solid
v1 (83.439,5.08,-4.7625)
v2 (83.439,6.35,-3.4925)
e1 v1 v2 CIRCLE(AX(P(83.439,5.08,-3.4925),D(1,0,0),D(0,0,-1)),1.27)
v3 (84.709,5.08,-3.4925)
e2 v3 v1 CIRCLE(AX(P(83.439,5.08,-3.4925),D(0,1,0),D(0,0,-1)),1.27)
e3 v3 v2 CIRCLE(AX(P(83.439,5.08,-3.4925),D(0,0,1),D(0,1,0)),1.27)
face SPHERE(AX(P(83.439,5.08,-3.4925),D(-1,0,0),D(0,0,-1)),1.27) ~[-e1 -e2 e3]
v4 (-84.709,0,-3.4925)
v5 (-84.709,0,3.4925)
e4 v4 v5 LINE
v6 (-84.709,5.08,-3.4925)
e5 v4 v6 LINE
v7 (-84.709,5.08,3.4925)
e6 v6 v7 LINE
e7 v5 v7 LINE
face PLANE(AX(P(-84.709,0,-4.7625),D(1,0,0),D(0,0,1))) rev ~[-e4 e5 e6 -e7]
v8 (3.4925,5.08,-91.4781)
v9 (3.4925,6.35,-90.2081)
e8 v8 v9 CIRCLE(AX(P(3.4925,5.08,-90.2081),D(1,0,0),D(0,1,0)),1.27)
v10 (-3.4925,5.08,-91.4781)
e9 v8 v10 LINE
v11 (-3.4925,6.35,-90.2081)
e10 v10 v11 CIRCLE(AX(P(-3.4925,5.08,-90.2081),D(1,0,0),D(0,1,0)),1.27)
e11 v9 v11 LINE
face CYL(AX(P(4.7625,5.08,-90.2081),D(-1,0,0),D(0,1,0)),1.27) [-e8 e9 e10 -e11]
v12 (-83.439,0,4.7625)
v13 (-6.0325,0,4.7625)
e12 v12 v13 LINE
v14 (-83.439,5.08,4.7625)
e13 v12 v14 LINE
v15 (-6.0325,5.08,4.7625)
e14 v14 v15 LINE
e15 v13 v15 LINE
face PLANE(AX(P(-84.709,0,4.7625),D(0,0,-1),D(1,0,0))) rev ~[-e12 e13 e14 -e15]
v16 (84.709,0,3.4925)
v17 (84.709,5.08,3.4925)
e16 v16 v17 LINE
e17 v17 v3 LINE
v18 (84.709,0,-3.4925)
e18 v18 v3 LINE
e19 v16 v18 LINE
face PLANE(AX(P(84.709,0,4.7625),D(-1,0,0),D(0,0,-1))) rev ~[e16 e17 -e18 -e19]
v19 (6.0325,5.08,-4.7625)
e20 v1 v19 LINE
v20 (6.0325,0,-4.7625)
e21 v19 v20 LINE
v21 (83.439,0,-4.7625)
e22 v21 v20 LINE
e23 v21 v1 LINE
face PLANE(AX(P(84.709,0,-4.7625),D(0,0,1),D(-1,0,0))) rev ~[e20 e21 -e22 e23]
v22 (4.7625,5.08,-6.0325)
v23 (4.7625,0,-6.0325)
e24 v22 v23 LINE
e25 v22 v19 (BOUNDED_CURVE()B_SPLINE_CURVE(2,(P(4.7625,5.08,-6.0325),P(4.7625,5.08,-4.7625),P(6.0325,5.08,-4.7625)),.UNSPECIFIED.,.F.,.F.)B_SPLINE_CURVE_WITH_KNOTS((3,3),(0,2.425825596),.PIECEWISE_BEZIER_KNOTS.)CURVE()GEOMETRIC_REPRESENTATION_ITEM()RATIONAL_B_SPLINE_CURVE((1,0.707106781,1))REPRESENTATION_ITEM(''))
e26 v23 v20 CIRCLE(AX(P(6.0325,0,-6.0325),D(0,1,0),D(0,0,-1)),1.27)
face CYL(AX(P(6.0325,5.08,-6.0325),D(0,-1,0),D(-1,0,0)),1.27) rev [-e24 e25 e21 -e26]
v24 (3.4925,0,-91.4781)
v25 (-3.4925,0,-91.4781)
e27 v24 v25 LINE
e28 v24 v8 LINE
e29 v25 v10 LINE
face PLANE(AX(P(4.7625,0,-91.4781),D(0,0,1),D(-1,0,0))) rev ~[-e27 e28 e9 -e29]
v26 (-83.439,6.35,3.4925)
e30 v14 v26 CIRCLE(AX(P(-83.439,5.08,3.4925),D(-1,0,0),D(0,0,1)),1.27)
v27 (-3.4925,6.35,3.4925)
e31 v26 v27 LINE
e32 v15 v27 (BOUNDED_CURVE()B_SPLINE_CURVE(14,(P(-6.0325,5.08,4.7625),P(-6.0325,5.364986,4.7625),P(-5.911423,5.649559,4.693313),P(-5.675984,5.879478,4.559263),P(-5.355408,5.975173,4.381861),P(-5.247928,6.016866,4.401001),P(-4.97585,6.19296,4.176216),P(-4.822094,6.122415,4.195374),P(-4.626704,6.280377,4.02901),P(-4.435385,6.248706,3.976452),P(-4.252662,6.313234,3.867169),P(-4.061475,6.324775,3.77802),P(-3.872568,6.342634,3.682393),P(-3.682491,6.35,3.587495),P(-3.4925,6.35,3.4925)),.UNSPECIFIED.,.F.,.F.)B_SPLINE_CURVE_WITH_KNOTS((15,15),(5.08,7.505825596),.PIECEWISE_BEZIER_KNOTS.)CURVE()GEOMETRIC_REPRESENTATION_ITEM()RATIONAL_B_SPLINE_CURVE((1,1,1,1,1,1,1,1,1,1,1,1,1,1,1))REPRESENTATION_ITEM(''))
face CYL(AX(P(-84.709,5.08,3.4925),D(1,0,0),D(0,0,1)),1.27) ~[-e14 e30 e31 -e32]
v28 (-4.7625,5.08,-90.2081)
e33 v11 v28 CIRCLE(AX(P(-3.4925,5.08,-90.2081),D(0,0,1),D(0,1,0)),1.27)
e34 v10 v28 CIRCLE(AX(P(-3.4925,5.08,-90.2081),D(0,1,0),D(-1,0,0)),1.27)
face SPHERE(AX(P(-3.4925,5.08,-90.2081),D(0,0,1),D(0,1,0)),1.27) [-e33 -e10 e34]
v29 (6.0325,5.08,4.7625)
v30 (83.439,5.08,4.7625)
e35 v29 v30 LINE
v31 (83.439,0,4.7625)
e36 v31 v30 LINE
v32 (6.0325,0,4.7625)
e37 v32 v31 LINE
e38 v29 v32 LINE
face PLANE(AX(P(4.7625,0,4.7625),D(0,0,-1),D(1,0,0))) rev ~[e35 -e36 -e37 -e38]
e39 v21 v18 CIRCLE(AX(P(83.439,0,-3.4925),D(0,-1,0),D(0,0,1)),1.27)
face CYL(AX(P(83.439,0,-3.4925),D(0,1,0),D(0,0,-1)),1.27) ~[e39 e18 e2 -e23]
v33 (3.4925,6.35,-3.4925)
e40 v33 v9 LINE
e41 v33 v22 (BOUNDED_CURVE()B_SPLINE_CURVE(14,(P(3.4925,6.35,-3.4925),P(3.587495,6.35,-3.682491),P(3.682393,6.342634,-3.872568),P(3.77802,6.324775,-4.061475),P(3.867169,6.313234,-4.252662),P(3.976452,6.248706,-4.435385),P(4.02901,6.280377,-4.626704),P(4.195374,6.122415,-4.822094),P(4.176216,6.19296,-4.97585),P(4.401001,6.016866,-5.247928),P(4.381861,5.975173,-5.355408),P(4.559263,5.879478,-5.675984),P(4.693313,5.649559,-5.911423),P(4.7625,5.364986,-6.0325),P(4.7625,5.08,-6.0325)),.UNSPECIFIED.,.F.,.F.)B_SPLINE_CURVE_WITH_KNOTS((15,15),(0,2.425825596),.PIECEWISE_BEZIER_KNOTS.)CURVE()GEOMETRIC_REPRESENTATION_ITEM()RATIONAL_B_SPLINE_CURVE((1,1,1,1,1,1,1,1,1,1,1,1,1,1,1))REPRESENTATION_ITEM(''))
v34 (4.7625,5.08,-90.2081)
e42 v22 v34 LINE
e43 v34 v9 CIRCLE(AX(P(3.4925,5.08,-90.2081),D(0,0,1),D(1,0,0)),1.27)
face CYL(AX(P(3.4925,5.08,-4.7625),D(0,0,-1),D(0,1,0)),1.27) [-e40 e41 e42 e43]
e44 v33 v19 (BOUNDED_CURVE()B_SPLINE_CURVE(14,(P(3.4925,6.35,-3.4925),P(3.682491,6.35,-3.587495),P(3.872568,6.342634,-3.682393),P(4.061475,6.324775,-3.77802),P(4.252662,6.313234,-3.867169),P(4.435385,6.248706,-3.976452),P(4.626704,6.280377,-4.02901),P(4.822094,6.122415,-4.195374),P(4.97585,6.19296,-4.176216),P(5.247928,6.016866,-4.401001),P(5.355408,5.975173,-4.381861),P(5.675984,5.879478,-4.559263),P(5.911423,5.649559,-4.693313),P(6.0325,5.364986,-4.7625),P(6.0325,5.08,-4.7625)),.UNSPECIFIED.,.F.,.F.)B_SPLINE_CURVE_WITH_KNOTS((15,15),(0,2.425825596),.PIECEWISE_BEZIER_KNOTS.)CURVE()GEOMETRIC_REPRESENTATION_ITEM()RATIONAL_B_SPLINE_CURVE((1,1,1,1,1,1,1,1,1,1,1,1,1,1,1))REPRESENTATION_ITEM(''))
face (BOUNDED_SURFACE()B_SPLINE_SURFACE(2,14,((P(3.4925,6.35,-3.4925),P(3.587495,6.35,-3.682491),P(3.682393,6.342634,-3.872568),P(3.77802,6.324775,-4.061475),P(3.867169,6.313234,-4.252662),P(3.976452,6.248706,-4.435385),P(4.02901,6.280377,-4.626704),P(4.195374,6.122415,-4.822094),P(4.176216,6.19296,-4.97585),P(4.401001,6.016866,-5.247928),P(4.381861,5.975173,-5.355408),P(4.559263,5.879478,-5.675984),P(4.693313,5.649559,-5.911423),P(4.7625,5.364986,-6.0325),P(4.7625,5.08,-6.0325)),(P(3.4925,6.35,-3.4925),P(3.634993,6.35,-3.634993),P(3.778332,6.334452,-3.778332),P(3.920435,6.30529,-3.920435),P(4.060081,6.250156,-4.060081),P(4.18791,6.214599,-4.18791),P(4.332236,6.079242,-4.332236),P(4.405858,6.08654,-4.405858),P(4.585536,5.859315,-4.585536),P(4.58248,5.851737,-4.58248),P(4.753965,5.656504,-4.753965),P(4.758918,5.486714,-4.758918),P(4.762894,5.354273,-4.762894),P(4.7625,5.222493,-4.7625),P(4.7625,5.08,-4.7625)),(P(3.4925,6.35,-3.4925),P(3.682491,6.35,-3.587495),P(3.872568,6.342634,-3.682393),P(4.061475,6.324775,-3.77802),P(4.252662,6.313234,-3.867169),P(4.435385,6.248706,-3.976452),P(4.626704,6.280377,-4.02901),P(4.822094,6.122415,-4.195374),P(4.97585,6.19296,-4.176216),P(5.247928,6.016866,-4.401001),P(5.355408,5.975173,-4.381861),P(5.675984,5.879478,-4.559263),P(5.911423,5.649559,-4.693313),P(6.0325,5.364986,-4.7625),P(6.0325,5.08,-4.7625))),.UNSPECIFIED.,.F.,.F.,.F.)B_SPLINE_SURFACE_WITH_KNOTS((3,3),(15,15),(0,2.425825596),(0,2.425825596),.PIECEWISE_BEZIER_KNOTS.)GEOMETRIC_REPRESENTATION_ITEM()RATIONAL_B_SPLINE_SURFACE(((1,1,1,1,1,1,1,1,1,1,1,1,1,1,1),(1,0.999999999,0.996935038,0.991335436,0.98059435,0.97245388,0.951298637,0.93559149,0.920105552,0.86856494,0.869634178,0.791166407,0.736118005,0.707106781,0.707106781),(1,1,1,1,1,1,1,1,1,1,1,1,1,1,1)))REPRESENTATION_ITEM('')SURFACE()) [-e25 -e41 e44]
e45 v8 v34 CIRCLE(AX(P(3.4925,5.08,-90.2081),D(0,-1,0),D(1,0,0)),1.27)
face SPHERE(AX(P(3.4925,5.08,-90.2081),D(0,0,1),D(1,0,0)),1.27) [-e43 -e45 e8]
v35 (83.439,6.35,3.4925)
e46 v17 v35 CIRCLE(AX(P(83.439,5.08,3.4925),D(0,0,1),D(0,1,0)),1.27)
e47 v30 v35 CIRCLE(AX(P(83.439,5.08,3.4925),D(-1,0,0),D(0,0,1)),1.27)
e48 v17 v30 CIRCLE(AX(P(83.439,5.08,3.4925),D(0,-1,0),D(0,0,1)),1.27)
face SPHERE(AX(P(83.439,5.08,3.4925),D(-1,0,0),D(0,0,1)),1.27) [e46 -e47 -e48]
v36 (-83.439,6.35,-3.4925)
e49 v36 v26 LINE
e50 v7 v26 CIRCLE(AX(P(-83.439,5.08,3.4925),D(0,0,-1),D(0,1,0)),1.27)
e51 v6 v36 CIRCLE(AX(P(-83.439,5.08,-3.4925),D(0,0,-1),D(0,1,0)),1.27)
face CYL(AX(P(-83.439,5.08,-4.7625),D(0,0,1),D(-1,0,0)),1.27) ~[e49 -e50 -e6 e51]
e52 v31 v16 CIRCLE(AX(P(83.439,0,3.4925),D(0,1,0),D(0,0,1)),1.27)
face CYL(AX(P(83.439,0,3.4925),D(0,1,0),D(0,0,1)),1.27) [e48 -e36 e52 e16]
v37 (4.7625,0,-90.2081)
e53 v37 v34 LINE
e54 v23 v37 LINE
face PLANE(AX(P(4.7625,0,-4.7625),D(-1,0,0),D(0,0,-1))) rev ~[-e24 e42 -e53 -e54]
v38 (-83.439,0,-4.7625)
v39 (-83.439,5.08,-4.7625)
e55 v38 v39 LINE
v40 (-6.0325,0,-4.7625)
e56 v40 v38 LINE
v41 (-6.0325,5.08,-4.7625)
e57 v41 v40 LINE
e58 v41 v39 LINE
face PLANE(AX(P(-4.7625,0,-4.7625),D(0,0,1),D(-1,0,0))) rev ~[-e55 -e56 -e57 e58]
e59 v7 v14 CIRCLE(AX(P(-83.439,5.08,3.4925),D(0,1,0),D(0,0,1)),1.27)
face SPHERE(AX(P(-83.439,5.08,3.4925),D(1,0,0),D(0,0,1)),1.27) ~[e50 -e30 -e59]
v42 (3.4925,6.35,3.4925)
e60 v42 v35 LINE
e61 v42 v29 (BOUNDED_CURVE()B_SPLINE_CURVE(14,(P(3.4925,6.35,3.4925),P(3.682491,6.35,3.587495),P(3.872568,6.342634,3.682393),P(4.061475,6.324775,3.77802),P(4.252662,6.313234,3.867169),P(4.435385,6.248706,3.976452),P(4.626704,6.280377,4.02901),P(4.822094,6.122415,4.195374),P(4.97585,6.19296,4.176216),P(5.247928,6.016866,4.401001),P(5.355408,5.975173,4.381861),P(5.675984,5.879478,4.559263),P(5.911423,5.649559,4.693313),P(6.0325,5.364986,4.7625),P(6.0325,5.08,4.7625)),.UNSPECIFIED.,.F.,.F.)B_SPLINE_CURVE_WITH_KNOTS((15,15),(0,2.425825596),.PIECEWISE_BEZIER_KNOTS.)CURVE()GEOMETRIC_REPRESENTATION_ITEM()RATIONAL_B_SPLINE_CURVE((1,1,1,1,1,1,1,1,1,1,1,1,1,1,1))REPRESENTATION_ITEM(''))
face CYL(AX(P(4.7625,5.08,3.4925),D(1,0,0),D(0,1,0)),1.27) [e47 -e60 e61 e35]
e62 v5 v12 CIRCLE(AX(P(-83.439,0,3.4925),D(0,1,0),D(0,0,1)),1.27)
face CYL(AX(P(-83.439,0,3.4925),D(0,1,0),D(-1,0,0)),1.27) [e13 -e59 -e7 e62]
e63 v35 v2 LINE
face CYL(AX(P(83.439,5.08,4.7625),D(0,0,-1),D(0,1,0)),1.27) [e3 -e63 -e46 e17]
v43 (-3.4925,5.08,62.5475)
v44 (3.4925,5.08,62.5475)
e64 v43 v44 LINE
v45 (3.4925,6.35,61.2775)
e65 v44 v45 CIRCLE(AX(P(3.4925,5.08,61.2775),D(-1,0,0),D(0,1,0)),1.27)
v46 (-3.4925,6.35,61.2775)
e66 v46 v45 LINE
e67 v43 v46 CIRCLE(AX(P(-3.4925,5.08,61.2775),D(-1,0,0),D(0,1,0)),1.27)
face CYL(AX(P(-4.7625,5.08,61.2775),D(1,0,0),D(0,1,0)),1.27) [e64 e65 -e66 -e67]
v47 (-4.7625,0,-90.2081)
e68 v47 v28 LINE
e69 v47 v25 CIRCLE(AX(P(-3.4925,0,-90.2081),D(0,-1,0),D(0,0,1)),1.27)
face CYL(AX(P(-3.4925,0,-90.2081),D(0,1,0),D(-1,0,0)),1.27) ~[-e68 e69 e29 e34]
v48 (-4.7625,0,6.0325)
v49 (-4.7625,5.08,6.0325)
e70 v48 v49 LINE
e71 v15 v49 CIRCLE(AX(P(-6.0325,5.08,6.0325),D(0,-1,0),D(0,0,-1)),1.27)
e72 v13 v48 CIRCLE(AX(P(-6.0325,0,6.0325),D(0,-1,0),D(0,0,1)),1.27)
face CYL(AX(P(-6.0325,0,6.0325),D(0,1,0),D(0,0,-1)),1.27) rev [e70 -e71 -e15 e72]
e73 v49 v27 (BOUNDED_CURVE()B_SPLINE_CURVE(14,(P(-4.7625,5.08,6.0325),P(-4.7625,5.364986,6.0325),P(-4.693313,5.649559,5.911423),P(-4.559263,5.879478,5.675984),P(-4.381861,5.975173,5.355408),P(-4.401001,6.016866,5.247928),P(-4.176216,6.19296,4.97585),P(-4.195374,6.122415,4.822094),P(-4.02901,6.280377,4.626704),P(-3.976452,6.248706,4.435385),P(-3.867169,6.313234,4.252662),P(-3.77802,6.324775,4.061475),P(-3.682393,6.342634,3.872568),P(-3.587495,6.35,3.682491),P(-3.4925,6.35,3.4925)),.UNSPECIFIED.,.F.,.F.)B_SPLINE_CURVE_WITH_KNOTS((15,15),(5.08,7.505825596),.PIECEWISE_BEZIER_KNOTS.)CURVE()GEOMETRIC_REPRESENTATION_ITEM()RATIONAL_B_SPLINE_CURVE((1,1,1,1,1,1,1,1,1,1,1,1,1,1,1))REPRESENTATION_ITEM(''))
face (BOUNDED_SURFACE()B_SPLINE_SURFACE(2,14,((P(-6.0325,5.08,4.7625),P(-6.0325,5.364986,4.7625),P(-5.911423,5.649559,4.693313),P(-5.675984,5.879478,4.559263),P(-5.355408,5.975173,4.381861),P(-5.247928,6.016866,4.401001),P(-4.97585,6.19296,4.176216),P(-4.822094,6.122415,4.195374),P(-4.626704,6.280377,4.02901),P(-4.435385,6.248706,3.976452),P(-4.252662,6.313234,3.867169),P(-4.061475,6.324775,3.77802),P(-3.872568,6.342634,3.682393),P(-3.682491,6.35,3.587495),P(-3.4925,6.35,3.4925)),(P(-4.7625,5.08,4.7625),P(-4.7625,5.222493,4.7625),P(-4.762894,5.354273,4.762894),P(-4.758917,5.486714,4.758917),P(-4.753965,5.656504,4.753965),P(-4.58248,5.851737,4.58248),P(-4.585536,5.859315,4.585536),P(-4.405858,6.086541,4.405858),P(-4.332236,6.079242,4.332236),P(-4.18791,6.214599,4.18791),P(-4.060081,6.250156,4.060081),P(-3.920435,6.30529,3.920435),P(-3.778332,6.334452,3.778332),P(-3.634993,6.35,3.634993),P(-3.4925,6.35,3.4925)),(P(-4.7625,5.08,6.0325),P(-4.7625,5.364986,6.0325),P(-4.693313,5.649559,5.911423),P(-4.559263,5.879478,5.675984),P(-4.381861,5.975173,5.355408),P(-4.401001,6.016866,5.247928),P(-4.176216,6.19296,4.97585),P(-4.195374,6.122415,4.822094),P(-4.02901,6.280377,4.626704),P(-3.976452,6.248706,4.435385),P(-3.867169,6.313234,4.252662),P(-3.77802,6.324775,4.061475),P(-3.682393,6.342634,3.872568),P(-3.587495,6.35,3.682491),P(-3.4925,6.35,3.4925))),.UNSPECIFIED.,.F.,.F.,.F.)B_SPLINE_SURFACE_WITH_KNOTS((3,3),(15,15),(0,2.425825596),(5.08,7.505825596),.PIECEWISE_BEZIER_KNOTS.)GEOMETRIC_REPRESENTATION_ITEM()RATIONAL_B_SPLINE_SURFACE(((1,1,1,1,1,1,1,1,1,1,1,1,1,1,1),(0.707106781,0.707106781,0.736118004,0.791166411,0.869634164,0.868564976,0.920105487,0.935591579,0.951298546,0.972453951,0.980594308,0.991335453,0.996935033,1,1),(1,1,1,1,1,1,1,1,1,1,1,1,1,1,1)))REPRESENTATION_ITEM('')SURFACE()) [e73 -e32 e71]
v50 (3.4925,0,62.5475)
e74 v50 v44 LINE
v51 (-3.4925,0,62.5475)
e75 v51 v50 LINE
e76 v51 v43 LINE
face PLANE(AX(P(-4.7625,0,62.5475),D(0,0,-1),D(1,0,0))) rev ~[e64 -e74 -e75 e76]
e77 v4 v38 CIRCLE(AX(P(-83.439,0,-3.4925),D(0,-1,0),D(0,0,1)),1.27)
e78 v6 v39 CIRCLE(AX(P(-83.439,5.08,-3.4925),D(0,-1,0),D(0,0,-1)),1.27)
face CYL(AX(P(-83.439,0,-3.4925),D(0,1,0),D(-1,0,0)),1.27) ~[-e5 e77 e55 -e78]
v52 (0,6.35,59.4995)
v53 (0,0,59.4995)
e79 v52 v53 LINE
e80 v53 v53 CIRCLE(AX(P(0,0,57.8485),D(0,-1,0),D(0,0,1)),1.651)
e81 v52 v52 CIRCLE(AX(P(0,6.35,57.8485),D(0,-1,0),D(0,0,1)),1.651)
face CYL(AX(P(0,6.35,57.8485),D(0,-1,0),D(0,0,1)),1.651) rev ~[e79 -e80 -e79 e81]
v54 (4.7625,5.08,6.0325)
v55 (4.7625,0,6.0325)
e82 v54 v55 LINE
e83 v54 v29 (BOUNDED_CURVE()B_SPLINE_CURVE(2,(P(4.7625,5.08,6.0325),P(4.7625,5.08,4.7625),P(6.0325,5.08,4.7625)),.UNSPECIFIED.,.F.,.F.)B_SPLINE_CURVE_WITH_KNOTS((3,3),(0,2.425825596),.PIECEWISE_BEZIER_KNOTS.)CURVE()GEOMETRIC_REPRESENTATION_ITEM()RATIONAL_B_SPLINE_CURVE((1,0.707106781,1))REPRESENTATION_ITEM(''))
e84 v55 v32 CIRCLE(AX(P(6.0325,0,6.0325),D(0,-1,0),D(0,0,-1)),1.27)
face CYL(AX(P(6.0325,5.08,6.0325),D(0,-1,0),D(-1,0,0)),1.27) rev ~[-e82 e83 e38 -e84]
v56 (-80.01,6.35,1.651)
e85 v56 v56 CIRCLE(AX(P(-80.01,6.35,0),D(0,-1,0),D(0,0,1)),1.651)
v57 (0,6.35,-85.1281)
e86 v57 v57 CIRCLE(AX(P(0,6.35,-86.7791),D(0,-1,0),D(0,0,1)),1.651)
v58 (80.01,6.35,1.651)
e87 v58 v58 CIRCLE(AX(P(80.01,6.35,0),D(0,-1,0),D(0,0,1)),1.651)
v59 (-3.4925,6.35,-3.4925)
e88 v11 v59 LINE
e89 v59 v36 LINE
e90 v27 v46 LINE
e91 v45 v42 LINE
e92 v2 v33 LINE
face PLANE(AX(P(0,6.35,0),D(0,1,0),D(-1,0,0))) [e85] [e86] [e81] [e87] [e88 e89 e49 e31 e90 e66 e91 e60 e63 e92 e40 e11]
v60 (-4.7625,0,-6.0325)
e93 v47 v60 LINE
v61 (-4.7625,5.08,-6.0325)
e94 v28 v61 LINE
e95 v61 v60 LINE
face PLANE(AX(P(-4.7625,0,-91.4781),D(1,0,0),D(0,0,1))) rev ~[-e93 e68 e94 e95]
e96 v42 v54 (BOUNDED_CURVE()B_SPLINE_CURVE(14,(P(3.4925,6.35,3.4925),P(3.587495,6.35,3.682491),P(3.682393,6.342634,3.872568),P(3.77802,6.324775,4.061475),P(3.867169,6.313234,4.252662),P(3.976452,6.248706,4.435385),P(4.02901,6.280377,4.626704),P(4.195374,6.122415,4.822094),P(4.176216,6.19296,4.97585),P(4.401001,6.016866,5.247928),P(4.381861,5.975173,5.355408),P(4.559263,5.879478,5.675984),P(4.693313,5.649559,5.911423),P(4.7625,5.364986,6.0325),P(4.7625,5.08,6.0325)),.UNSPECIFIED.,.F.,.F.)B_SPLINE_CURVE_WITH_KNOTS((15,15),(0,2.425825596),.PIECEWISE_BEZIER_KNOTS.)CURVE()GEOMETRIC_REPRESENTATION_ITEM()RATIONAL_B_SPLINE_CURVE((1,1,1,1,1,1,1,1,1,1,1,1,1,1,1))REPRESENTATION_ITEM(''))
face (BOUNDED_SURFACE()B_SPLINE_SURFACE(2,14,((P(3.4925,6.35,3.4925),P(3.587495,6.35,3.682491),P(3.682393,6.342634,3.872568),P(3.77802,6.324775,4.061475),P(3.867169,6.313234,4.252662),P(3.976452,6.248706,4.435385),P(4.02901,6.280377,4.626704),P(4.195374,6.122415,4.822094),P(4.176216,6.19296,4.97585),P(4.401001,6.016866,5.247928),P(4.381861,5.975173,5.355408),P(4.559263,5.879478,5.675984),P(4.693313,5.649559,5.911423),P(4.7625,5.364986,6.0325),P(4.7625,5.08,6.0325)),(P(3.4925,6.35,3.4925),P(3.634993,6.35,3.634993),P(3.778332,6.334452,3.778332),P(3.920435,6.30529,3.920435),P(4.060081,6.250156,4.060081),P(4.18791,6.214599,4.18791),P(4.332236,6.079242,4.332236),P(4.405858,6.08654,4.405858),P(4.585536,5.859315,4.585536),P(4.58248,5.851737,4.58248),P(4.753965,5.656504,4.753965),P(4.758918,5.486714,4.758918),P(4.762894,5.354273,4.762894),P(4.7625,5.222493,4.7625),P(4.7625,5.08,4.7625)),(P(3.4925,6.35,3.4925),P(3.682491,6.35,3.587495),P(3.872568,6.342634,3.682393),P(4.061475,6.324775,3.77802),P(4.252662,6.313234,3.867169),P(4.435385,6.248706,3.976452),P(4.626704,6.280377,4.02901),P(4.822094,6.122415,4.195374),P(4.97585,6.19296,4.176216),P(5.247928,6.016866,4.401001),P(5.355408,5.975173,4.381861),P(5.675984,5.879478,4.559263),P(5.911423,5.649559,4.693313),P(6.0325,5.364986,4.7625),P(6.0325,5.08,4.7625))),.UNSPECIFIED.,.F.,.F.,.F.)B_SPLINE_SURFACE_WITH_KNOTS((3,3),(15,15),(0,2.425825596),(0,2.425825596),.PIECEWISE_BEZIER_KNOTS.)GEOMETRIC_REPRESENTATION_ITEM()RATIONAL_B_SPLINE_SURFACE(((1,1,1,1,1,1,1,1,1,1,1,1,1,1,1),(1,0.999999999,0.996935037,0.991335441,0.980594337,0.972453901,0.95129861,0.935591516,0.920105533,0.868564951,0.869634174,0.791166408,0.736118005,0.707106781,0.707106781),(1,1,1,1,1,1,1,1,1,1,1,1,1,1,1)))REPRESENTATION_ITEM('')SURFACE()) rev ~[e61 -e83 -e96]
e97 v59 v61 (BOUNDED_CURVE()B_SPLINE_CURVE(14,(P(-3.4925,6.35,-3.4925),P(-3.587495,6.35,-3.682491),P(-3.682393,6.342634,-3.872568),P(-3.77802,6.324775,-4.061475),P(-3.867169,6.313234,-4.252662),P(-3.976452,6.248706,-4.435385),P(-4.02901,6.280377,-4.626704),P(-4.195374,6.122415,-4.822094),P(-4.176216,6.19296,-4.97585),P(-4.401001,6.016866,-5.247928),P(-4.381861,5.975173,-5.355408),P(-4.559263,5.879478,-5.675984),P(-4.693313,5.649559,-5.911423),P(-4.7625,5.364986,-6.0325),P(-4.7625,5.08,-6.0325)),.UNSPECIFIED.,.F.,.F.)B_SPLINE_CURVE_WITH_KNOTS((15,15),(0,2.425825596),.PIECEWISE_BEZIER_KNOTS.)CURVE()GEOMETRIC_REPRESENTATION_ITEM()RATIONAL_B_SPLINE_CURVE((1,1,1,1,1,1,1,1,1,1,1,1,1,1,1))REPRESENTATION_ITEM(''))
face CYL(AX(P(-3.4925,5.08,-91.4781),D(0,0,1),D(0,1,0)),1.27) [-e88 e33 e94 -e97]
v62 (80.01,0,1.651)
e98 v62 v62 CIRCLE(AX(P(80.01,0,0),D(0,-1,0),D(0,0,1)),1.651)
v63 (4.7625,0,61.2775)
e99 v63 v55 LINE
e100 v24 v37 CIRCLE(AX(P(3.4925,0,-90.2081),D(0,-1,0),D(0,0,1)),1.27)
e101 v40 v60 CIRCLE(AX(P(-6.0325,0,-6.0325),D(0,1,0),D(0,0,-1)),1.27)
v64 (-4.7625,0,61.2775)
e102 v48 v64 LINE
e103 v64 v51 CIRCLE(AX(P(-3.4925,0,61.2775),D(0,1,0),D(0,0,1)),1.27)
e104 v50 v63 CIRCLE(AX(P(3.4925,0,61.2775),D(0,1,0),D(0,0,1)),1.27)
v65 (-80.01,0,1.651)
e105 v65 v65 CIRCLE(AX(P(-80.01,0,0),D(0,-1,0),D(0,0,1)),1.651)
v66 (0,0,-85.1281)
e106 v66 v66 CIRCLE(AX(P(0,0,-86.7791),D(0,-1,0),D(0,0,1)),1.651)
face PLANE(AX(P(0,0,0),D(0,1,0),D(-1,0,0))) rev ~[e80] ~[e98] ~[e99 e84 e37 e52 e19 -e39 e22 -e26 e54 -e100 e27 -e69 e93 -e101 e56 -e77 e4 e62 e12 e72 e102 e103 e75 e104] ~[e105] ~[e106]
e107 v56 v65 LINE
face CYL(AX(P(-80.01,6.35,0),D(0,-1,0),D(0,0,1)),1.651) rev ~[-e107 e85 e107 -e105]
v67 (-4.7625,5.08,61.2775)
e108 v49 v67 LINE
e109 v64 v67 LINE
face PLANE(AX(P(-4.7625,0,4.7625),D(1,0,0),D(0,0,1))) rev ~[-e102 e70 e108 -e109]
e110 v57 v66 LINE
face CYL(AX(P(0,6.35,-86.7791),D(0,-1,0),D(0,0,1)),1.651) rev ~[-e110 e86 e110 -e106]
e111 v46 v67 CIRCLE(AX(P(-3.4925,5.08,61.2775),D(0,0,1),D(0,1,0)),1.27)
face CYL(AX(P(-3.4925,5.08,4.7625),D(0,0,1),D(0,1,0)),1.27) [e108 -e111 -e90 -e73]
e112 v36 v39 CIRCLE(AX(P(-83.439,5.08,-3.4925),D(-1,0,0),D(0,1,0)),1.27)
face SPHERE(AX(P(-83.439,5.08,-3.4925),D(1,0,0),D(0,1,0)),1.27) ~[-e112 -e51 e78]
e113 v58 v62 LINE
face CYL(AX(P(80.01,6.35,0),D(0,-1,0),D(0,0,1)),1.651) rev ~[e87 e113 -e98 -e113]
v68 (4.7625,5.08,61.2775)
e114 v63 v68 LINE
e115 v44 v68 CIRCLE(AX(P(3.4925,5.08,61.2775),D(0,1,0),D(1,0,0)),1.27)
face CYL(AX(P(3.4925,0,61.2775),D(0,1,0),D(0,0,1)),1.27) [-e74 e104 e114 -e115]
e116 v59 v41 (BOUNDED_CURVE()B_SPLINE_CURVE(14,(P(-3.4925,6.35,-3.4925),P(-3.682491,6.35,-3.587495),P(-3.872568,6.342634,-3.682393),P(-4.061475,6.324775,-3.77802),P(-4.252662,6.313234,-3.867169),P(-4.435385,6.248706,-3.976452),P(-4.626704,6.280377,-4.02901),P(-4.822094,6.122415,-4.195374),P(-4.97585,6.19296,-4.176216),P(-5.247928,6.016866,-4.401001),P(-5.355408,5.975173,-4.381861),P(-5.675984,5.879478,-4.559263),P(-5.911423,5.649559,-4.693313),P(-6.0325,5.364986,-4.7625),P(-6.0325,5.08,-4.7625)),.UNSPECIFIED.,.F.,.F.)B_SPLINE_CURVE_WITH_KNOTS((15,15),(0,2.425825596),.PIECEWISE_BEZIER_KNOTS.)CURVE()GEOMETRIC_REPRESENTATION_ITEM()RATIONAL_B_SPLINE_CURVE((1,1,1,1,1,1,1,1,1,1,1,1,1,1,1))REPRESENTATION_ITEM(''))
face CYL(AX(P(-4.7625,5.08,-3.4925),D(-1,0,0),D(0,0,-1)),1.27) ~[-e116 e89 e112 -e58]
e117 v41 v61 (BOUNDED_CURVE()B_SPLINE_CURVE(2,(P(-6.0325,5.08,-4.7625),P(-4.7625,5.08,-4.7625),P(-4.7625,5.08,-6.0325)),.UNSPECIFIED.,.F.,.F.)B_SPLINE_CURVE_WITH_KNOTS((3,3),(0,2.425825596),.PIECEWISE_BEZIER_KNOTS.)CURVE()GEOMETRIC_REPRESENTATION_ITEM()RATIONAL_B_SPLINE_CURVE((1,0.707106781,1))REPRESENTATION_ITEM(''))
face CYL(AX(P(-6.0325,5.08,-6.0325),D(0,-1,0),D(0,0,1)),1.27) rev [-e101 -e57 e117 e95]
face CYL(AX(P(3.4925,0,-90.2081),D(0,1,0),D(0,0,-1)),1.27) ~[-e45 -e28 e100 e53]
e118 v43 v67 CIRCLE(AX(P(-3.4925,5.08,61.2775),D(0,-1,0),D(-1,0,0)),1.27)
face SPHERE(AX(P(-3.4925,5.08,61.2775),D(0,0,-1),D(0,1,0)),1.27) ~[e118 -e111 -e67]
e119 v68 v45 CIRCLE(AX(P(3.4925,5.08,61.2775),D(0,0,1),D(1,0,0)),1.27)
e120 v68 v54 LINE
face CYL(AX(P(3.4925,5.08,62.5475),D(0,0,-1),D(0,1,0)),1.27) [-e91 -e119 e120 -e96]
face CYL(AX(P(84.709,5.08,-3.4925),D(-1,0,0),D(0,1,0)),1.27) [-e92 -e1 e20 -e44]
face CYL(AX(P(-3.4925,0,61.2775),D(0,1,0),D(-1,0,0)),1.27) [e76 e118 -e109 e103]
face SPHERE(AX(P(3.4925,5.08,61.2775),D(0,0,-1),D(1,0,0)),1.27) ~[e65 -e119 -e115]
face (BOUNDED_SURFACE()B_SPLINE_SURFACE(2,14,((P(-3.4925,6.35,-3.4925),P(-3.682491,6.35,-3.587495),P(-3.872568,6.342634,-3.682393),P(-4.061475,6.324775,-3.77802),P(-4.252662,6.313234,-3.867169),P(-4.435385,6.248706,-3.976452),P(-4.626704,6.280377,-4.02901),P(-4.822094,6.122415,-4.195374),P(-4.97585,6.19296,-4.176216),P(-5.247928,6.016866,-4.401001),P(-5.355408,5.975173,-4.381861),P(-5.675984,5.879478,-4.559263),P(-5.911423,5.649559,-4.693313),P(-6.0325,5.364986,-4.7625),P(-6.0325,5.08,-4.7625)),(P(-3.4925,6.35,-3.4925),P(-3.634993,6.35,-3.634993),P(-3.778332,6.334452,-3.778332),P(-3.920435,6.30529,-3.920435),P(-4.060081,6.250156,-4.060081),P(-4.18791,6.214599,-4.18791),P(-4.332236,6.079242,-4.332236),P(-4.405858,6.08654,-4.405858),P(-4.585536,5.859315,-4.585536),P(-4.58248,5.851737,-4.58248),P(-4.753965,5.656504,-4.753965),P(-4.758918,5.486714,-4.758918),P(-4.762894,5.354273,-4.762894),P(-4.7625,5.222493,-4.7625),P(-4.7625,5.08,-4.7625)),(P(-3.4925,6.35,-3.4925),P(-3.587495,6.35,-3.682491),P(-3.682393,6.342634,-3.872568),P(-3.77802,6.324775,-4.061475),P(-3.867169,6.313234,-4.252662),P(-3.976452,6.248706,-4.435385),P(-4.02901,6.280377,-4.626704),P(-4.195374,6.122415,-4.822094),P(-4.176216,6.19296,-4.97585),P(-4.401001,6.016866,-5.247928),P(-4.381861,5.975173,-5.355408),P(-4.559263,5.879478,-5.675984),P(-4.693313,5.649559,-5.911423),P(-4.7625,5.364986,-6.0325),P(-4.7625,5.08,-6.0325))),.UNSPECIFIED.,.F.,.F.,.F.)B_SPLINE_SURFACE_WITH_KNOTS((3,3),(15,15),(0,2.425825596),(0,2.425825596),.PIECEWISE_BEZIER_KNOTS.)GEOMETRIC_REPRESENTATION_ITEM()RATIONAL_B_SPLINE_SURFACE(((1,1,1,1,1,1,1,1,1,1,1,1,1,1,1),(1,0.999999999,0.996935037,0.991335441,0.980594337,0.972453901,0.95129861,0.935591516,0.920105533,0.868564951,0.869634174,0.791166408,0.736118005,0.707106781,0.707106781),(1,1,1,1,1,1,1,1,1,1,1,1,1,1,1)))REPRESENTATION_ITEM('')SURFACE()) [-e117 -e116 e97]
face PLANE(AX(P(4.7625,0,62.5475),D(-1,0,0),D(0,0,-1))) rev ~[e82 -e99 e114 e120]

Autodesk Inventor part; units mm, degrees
ref_plane "YZ Plane" through (0, 0, 0) normal (1, 0, 0) x (0, 1, 0)
ref_plane "XZ Plane" through (0, 0, 0) normal (0, 1, 0) x (-1, 0, 0)
ref_plane "XY Plane" through (0, 0, 0) normal (0, 0, 1) x (1, 0, 0)
sketch "Sketch1" plane through (0, 0, 0) normal (0, 1, 0) x (-1, 0, 0)
  line L0 (84.709, 4.7625) -> (-84.709, 4.7625)
  line L1 (-84.709, 4.7625) -> (-84.709, -4.7625)
  line L2 (-84.709, -4.7625) -> (84.709, -4.7625)
  line L3 (84.709, -4.7625) -> (84.709, 4.7625)
  line L4 (4.7625, 62.5475) -> (-4.7625, 62.5475)
  line L5 (-4.7625, 62.5475) -> (-4.7625, -91.4781)
  line L6 (-4.7625, -91.4781) -> (4.7625, -91.4781)
  line L7 (4.7625, -91.4781) -> (4.7625, 62.5475)
  point P0 (0, 0)
  point P1 (0, -4.7625)
  point P2 (84.709, 0)
  point P3 (4.7625, -14.4653)
  point P4 (0, 62.5475)
  dimension "d0" = 9.525
  dimension "d1" = 169.418
  dimension "d2" = 154.0256
  dimension "d6" = 57.785
extrude "Extrusion1" add sketch "Sketch1" along normal blind 6.35
sketch "Sketch2" plane through (0, 6.35, 0) normal (0, 1, 0) x (1, 0, 0)
  line L0 (4.7625, 91.4781) -> (-4.7625, 91.4781) projected
  line L1 (84.709, -4.7625) -> (84.709, 4.7625) projected
  line L2 (-4.7625, -62.5475) -> (4.7625, -62.5475) projected
  line L3 (-84.709, 4.7625) -> (-84.709, -4.7625) projected
  point P0 (0, 0)
  point P1 (0, 86.7791)
  point P2 (0, -57.8485)
  point P3 (-80.01, 0)
  point P4 (80.01, 0)
  dimension "d7" = 4.699
  dimension "d8" = 4.699
  dimension "d9" = 4.699
  dimension "d10" = 4.699
hole "Hole1" at (0, 6.35, -86.7791) at (0, 6.35, 57.8485) at (-80.01, 6.35, 0) at (80.01, 6.35, 0) direction (0, -1, 0) diameter 3.302 end through all
fillet "Fillet1" radius 1.27 20 edges at (-44.7358, 6.35, 4.7625) (4.7625, 6.35, 33.655) (-4.7625, 6.35, 33.655) (44.7357, 6.35, 4.7625) (4.7625, 6.35, -48.1203) (-4.7625, 6.35, -48.1203) (-44.7357, 6.35, -4.7625) (44.7358, 6.35, -4.7625) (84.709, 3.175, 4.7625) (84.709, 3.175, -4.7625) (84.709, 6.35, 0) (4.7625, 3.175, 62.5475) (0, 6.35, 62.5475) (-4.7625, 3.175, 62.5475) (-84.709, 3.175, 4.7625) (-84.709, 6.35, 0) (4.7625, 3.175, -91.4781) (0, 6.35, -91.4781) (-4.7625, 3.175, -91.4781) (-84.709, 3.175, -4.7625)
fillet "Fillet2" radius 1.27 8 edges at (4.3905, 5.978, 4.3905) (4.7625, 2.54, 4.7625) (4.3905, 5.978, -4.3905) (4.7625, 2.54, -4.7625) (-4.3905, 5.978, -4.3905) (-4.7625, 2.54, -4.7625) (-4.3905, 5.978, 4.3905) (-4.7625, 2.54, 4.7625)
equation "\"d8\" = d7"
equation "\"d9\" = d7"
equation "\"d10\" = d7"
properties part number "BatteryCrossStrap"
